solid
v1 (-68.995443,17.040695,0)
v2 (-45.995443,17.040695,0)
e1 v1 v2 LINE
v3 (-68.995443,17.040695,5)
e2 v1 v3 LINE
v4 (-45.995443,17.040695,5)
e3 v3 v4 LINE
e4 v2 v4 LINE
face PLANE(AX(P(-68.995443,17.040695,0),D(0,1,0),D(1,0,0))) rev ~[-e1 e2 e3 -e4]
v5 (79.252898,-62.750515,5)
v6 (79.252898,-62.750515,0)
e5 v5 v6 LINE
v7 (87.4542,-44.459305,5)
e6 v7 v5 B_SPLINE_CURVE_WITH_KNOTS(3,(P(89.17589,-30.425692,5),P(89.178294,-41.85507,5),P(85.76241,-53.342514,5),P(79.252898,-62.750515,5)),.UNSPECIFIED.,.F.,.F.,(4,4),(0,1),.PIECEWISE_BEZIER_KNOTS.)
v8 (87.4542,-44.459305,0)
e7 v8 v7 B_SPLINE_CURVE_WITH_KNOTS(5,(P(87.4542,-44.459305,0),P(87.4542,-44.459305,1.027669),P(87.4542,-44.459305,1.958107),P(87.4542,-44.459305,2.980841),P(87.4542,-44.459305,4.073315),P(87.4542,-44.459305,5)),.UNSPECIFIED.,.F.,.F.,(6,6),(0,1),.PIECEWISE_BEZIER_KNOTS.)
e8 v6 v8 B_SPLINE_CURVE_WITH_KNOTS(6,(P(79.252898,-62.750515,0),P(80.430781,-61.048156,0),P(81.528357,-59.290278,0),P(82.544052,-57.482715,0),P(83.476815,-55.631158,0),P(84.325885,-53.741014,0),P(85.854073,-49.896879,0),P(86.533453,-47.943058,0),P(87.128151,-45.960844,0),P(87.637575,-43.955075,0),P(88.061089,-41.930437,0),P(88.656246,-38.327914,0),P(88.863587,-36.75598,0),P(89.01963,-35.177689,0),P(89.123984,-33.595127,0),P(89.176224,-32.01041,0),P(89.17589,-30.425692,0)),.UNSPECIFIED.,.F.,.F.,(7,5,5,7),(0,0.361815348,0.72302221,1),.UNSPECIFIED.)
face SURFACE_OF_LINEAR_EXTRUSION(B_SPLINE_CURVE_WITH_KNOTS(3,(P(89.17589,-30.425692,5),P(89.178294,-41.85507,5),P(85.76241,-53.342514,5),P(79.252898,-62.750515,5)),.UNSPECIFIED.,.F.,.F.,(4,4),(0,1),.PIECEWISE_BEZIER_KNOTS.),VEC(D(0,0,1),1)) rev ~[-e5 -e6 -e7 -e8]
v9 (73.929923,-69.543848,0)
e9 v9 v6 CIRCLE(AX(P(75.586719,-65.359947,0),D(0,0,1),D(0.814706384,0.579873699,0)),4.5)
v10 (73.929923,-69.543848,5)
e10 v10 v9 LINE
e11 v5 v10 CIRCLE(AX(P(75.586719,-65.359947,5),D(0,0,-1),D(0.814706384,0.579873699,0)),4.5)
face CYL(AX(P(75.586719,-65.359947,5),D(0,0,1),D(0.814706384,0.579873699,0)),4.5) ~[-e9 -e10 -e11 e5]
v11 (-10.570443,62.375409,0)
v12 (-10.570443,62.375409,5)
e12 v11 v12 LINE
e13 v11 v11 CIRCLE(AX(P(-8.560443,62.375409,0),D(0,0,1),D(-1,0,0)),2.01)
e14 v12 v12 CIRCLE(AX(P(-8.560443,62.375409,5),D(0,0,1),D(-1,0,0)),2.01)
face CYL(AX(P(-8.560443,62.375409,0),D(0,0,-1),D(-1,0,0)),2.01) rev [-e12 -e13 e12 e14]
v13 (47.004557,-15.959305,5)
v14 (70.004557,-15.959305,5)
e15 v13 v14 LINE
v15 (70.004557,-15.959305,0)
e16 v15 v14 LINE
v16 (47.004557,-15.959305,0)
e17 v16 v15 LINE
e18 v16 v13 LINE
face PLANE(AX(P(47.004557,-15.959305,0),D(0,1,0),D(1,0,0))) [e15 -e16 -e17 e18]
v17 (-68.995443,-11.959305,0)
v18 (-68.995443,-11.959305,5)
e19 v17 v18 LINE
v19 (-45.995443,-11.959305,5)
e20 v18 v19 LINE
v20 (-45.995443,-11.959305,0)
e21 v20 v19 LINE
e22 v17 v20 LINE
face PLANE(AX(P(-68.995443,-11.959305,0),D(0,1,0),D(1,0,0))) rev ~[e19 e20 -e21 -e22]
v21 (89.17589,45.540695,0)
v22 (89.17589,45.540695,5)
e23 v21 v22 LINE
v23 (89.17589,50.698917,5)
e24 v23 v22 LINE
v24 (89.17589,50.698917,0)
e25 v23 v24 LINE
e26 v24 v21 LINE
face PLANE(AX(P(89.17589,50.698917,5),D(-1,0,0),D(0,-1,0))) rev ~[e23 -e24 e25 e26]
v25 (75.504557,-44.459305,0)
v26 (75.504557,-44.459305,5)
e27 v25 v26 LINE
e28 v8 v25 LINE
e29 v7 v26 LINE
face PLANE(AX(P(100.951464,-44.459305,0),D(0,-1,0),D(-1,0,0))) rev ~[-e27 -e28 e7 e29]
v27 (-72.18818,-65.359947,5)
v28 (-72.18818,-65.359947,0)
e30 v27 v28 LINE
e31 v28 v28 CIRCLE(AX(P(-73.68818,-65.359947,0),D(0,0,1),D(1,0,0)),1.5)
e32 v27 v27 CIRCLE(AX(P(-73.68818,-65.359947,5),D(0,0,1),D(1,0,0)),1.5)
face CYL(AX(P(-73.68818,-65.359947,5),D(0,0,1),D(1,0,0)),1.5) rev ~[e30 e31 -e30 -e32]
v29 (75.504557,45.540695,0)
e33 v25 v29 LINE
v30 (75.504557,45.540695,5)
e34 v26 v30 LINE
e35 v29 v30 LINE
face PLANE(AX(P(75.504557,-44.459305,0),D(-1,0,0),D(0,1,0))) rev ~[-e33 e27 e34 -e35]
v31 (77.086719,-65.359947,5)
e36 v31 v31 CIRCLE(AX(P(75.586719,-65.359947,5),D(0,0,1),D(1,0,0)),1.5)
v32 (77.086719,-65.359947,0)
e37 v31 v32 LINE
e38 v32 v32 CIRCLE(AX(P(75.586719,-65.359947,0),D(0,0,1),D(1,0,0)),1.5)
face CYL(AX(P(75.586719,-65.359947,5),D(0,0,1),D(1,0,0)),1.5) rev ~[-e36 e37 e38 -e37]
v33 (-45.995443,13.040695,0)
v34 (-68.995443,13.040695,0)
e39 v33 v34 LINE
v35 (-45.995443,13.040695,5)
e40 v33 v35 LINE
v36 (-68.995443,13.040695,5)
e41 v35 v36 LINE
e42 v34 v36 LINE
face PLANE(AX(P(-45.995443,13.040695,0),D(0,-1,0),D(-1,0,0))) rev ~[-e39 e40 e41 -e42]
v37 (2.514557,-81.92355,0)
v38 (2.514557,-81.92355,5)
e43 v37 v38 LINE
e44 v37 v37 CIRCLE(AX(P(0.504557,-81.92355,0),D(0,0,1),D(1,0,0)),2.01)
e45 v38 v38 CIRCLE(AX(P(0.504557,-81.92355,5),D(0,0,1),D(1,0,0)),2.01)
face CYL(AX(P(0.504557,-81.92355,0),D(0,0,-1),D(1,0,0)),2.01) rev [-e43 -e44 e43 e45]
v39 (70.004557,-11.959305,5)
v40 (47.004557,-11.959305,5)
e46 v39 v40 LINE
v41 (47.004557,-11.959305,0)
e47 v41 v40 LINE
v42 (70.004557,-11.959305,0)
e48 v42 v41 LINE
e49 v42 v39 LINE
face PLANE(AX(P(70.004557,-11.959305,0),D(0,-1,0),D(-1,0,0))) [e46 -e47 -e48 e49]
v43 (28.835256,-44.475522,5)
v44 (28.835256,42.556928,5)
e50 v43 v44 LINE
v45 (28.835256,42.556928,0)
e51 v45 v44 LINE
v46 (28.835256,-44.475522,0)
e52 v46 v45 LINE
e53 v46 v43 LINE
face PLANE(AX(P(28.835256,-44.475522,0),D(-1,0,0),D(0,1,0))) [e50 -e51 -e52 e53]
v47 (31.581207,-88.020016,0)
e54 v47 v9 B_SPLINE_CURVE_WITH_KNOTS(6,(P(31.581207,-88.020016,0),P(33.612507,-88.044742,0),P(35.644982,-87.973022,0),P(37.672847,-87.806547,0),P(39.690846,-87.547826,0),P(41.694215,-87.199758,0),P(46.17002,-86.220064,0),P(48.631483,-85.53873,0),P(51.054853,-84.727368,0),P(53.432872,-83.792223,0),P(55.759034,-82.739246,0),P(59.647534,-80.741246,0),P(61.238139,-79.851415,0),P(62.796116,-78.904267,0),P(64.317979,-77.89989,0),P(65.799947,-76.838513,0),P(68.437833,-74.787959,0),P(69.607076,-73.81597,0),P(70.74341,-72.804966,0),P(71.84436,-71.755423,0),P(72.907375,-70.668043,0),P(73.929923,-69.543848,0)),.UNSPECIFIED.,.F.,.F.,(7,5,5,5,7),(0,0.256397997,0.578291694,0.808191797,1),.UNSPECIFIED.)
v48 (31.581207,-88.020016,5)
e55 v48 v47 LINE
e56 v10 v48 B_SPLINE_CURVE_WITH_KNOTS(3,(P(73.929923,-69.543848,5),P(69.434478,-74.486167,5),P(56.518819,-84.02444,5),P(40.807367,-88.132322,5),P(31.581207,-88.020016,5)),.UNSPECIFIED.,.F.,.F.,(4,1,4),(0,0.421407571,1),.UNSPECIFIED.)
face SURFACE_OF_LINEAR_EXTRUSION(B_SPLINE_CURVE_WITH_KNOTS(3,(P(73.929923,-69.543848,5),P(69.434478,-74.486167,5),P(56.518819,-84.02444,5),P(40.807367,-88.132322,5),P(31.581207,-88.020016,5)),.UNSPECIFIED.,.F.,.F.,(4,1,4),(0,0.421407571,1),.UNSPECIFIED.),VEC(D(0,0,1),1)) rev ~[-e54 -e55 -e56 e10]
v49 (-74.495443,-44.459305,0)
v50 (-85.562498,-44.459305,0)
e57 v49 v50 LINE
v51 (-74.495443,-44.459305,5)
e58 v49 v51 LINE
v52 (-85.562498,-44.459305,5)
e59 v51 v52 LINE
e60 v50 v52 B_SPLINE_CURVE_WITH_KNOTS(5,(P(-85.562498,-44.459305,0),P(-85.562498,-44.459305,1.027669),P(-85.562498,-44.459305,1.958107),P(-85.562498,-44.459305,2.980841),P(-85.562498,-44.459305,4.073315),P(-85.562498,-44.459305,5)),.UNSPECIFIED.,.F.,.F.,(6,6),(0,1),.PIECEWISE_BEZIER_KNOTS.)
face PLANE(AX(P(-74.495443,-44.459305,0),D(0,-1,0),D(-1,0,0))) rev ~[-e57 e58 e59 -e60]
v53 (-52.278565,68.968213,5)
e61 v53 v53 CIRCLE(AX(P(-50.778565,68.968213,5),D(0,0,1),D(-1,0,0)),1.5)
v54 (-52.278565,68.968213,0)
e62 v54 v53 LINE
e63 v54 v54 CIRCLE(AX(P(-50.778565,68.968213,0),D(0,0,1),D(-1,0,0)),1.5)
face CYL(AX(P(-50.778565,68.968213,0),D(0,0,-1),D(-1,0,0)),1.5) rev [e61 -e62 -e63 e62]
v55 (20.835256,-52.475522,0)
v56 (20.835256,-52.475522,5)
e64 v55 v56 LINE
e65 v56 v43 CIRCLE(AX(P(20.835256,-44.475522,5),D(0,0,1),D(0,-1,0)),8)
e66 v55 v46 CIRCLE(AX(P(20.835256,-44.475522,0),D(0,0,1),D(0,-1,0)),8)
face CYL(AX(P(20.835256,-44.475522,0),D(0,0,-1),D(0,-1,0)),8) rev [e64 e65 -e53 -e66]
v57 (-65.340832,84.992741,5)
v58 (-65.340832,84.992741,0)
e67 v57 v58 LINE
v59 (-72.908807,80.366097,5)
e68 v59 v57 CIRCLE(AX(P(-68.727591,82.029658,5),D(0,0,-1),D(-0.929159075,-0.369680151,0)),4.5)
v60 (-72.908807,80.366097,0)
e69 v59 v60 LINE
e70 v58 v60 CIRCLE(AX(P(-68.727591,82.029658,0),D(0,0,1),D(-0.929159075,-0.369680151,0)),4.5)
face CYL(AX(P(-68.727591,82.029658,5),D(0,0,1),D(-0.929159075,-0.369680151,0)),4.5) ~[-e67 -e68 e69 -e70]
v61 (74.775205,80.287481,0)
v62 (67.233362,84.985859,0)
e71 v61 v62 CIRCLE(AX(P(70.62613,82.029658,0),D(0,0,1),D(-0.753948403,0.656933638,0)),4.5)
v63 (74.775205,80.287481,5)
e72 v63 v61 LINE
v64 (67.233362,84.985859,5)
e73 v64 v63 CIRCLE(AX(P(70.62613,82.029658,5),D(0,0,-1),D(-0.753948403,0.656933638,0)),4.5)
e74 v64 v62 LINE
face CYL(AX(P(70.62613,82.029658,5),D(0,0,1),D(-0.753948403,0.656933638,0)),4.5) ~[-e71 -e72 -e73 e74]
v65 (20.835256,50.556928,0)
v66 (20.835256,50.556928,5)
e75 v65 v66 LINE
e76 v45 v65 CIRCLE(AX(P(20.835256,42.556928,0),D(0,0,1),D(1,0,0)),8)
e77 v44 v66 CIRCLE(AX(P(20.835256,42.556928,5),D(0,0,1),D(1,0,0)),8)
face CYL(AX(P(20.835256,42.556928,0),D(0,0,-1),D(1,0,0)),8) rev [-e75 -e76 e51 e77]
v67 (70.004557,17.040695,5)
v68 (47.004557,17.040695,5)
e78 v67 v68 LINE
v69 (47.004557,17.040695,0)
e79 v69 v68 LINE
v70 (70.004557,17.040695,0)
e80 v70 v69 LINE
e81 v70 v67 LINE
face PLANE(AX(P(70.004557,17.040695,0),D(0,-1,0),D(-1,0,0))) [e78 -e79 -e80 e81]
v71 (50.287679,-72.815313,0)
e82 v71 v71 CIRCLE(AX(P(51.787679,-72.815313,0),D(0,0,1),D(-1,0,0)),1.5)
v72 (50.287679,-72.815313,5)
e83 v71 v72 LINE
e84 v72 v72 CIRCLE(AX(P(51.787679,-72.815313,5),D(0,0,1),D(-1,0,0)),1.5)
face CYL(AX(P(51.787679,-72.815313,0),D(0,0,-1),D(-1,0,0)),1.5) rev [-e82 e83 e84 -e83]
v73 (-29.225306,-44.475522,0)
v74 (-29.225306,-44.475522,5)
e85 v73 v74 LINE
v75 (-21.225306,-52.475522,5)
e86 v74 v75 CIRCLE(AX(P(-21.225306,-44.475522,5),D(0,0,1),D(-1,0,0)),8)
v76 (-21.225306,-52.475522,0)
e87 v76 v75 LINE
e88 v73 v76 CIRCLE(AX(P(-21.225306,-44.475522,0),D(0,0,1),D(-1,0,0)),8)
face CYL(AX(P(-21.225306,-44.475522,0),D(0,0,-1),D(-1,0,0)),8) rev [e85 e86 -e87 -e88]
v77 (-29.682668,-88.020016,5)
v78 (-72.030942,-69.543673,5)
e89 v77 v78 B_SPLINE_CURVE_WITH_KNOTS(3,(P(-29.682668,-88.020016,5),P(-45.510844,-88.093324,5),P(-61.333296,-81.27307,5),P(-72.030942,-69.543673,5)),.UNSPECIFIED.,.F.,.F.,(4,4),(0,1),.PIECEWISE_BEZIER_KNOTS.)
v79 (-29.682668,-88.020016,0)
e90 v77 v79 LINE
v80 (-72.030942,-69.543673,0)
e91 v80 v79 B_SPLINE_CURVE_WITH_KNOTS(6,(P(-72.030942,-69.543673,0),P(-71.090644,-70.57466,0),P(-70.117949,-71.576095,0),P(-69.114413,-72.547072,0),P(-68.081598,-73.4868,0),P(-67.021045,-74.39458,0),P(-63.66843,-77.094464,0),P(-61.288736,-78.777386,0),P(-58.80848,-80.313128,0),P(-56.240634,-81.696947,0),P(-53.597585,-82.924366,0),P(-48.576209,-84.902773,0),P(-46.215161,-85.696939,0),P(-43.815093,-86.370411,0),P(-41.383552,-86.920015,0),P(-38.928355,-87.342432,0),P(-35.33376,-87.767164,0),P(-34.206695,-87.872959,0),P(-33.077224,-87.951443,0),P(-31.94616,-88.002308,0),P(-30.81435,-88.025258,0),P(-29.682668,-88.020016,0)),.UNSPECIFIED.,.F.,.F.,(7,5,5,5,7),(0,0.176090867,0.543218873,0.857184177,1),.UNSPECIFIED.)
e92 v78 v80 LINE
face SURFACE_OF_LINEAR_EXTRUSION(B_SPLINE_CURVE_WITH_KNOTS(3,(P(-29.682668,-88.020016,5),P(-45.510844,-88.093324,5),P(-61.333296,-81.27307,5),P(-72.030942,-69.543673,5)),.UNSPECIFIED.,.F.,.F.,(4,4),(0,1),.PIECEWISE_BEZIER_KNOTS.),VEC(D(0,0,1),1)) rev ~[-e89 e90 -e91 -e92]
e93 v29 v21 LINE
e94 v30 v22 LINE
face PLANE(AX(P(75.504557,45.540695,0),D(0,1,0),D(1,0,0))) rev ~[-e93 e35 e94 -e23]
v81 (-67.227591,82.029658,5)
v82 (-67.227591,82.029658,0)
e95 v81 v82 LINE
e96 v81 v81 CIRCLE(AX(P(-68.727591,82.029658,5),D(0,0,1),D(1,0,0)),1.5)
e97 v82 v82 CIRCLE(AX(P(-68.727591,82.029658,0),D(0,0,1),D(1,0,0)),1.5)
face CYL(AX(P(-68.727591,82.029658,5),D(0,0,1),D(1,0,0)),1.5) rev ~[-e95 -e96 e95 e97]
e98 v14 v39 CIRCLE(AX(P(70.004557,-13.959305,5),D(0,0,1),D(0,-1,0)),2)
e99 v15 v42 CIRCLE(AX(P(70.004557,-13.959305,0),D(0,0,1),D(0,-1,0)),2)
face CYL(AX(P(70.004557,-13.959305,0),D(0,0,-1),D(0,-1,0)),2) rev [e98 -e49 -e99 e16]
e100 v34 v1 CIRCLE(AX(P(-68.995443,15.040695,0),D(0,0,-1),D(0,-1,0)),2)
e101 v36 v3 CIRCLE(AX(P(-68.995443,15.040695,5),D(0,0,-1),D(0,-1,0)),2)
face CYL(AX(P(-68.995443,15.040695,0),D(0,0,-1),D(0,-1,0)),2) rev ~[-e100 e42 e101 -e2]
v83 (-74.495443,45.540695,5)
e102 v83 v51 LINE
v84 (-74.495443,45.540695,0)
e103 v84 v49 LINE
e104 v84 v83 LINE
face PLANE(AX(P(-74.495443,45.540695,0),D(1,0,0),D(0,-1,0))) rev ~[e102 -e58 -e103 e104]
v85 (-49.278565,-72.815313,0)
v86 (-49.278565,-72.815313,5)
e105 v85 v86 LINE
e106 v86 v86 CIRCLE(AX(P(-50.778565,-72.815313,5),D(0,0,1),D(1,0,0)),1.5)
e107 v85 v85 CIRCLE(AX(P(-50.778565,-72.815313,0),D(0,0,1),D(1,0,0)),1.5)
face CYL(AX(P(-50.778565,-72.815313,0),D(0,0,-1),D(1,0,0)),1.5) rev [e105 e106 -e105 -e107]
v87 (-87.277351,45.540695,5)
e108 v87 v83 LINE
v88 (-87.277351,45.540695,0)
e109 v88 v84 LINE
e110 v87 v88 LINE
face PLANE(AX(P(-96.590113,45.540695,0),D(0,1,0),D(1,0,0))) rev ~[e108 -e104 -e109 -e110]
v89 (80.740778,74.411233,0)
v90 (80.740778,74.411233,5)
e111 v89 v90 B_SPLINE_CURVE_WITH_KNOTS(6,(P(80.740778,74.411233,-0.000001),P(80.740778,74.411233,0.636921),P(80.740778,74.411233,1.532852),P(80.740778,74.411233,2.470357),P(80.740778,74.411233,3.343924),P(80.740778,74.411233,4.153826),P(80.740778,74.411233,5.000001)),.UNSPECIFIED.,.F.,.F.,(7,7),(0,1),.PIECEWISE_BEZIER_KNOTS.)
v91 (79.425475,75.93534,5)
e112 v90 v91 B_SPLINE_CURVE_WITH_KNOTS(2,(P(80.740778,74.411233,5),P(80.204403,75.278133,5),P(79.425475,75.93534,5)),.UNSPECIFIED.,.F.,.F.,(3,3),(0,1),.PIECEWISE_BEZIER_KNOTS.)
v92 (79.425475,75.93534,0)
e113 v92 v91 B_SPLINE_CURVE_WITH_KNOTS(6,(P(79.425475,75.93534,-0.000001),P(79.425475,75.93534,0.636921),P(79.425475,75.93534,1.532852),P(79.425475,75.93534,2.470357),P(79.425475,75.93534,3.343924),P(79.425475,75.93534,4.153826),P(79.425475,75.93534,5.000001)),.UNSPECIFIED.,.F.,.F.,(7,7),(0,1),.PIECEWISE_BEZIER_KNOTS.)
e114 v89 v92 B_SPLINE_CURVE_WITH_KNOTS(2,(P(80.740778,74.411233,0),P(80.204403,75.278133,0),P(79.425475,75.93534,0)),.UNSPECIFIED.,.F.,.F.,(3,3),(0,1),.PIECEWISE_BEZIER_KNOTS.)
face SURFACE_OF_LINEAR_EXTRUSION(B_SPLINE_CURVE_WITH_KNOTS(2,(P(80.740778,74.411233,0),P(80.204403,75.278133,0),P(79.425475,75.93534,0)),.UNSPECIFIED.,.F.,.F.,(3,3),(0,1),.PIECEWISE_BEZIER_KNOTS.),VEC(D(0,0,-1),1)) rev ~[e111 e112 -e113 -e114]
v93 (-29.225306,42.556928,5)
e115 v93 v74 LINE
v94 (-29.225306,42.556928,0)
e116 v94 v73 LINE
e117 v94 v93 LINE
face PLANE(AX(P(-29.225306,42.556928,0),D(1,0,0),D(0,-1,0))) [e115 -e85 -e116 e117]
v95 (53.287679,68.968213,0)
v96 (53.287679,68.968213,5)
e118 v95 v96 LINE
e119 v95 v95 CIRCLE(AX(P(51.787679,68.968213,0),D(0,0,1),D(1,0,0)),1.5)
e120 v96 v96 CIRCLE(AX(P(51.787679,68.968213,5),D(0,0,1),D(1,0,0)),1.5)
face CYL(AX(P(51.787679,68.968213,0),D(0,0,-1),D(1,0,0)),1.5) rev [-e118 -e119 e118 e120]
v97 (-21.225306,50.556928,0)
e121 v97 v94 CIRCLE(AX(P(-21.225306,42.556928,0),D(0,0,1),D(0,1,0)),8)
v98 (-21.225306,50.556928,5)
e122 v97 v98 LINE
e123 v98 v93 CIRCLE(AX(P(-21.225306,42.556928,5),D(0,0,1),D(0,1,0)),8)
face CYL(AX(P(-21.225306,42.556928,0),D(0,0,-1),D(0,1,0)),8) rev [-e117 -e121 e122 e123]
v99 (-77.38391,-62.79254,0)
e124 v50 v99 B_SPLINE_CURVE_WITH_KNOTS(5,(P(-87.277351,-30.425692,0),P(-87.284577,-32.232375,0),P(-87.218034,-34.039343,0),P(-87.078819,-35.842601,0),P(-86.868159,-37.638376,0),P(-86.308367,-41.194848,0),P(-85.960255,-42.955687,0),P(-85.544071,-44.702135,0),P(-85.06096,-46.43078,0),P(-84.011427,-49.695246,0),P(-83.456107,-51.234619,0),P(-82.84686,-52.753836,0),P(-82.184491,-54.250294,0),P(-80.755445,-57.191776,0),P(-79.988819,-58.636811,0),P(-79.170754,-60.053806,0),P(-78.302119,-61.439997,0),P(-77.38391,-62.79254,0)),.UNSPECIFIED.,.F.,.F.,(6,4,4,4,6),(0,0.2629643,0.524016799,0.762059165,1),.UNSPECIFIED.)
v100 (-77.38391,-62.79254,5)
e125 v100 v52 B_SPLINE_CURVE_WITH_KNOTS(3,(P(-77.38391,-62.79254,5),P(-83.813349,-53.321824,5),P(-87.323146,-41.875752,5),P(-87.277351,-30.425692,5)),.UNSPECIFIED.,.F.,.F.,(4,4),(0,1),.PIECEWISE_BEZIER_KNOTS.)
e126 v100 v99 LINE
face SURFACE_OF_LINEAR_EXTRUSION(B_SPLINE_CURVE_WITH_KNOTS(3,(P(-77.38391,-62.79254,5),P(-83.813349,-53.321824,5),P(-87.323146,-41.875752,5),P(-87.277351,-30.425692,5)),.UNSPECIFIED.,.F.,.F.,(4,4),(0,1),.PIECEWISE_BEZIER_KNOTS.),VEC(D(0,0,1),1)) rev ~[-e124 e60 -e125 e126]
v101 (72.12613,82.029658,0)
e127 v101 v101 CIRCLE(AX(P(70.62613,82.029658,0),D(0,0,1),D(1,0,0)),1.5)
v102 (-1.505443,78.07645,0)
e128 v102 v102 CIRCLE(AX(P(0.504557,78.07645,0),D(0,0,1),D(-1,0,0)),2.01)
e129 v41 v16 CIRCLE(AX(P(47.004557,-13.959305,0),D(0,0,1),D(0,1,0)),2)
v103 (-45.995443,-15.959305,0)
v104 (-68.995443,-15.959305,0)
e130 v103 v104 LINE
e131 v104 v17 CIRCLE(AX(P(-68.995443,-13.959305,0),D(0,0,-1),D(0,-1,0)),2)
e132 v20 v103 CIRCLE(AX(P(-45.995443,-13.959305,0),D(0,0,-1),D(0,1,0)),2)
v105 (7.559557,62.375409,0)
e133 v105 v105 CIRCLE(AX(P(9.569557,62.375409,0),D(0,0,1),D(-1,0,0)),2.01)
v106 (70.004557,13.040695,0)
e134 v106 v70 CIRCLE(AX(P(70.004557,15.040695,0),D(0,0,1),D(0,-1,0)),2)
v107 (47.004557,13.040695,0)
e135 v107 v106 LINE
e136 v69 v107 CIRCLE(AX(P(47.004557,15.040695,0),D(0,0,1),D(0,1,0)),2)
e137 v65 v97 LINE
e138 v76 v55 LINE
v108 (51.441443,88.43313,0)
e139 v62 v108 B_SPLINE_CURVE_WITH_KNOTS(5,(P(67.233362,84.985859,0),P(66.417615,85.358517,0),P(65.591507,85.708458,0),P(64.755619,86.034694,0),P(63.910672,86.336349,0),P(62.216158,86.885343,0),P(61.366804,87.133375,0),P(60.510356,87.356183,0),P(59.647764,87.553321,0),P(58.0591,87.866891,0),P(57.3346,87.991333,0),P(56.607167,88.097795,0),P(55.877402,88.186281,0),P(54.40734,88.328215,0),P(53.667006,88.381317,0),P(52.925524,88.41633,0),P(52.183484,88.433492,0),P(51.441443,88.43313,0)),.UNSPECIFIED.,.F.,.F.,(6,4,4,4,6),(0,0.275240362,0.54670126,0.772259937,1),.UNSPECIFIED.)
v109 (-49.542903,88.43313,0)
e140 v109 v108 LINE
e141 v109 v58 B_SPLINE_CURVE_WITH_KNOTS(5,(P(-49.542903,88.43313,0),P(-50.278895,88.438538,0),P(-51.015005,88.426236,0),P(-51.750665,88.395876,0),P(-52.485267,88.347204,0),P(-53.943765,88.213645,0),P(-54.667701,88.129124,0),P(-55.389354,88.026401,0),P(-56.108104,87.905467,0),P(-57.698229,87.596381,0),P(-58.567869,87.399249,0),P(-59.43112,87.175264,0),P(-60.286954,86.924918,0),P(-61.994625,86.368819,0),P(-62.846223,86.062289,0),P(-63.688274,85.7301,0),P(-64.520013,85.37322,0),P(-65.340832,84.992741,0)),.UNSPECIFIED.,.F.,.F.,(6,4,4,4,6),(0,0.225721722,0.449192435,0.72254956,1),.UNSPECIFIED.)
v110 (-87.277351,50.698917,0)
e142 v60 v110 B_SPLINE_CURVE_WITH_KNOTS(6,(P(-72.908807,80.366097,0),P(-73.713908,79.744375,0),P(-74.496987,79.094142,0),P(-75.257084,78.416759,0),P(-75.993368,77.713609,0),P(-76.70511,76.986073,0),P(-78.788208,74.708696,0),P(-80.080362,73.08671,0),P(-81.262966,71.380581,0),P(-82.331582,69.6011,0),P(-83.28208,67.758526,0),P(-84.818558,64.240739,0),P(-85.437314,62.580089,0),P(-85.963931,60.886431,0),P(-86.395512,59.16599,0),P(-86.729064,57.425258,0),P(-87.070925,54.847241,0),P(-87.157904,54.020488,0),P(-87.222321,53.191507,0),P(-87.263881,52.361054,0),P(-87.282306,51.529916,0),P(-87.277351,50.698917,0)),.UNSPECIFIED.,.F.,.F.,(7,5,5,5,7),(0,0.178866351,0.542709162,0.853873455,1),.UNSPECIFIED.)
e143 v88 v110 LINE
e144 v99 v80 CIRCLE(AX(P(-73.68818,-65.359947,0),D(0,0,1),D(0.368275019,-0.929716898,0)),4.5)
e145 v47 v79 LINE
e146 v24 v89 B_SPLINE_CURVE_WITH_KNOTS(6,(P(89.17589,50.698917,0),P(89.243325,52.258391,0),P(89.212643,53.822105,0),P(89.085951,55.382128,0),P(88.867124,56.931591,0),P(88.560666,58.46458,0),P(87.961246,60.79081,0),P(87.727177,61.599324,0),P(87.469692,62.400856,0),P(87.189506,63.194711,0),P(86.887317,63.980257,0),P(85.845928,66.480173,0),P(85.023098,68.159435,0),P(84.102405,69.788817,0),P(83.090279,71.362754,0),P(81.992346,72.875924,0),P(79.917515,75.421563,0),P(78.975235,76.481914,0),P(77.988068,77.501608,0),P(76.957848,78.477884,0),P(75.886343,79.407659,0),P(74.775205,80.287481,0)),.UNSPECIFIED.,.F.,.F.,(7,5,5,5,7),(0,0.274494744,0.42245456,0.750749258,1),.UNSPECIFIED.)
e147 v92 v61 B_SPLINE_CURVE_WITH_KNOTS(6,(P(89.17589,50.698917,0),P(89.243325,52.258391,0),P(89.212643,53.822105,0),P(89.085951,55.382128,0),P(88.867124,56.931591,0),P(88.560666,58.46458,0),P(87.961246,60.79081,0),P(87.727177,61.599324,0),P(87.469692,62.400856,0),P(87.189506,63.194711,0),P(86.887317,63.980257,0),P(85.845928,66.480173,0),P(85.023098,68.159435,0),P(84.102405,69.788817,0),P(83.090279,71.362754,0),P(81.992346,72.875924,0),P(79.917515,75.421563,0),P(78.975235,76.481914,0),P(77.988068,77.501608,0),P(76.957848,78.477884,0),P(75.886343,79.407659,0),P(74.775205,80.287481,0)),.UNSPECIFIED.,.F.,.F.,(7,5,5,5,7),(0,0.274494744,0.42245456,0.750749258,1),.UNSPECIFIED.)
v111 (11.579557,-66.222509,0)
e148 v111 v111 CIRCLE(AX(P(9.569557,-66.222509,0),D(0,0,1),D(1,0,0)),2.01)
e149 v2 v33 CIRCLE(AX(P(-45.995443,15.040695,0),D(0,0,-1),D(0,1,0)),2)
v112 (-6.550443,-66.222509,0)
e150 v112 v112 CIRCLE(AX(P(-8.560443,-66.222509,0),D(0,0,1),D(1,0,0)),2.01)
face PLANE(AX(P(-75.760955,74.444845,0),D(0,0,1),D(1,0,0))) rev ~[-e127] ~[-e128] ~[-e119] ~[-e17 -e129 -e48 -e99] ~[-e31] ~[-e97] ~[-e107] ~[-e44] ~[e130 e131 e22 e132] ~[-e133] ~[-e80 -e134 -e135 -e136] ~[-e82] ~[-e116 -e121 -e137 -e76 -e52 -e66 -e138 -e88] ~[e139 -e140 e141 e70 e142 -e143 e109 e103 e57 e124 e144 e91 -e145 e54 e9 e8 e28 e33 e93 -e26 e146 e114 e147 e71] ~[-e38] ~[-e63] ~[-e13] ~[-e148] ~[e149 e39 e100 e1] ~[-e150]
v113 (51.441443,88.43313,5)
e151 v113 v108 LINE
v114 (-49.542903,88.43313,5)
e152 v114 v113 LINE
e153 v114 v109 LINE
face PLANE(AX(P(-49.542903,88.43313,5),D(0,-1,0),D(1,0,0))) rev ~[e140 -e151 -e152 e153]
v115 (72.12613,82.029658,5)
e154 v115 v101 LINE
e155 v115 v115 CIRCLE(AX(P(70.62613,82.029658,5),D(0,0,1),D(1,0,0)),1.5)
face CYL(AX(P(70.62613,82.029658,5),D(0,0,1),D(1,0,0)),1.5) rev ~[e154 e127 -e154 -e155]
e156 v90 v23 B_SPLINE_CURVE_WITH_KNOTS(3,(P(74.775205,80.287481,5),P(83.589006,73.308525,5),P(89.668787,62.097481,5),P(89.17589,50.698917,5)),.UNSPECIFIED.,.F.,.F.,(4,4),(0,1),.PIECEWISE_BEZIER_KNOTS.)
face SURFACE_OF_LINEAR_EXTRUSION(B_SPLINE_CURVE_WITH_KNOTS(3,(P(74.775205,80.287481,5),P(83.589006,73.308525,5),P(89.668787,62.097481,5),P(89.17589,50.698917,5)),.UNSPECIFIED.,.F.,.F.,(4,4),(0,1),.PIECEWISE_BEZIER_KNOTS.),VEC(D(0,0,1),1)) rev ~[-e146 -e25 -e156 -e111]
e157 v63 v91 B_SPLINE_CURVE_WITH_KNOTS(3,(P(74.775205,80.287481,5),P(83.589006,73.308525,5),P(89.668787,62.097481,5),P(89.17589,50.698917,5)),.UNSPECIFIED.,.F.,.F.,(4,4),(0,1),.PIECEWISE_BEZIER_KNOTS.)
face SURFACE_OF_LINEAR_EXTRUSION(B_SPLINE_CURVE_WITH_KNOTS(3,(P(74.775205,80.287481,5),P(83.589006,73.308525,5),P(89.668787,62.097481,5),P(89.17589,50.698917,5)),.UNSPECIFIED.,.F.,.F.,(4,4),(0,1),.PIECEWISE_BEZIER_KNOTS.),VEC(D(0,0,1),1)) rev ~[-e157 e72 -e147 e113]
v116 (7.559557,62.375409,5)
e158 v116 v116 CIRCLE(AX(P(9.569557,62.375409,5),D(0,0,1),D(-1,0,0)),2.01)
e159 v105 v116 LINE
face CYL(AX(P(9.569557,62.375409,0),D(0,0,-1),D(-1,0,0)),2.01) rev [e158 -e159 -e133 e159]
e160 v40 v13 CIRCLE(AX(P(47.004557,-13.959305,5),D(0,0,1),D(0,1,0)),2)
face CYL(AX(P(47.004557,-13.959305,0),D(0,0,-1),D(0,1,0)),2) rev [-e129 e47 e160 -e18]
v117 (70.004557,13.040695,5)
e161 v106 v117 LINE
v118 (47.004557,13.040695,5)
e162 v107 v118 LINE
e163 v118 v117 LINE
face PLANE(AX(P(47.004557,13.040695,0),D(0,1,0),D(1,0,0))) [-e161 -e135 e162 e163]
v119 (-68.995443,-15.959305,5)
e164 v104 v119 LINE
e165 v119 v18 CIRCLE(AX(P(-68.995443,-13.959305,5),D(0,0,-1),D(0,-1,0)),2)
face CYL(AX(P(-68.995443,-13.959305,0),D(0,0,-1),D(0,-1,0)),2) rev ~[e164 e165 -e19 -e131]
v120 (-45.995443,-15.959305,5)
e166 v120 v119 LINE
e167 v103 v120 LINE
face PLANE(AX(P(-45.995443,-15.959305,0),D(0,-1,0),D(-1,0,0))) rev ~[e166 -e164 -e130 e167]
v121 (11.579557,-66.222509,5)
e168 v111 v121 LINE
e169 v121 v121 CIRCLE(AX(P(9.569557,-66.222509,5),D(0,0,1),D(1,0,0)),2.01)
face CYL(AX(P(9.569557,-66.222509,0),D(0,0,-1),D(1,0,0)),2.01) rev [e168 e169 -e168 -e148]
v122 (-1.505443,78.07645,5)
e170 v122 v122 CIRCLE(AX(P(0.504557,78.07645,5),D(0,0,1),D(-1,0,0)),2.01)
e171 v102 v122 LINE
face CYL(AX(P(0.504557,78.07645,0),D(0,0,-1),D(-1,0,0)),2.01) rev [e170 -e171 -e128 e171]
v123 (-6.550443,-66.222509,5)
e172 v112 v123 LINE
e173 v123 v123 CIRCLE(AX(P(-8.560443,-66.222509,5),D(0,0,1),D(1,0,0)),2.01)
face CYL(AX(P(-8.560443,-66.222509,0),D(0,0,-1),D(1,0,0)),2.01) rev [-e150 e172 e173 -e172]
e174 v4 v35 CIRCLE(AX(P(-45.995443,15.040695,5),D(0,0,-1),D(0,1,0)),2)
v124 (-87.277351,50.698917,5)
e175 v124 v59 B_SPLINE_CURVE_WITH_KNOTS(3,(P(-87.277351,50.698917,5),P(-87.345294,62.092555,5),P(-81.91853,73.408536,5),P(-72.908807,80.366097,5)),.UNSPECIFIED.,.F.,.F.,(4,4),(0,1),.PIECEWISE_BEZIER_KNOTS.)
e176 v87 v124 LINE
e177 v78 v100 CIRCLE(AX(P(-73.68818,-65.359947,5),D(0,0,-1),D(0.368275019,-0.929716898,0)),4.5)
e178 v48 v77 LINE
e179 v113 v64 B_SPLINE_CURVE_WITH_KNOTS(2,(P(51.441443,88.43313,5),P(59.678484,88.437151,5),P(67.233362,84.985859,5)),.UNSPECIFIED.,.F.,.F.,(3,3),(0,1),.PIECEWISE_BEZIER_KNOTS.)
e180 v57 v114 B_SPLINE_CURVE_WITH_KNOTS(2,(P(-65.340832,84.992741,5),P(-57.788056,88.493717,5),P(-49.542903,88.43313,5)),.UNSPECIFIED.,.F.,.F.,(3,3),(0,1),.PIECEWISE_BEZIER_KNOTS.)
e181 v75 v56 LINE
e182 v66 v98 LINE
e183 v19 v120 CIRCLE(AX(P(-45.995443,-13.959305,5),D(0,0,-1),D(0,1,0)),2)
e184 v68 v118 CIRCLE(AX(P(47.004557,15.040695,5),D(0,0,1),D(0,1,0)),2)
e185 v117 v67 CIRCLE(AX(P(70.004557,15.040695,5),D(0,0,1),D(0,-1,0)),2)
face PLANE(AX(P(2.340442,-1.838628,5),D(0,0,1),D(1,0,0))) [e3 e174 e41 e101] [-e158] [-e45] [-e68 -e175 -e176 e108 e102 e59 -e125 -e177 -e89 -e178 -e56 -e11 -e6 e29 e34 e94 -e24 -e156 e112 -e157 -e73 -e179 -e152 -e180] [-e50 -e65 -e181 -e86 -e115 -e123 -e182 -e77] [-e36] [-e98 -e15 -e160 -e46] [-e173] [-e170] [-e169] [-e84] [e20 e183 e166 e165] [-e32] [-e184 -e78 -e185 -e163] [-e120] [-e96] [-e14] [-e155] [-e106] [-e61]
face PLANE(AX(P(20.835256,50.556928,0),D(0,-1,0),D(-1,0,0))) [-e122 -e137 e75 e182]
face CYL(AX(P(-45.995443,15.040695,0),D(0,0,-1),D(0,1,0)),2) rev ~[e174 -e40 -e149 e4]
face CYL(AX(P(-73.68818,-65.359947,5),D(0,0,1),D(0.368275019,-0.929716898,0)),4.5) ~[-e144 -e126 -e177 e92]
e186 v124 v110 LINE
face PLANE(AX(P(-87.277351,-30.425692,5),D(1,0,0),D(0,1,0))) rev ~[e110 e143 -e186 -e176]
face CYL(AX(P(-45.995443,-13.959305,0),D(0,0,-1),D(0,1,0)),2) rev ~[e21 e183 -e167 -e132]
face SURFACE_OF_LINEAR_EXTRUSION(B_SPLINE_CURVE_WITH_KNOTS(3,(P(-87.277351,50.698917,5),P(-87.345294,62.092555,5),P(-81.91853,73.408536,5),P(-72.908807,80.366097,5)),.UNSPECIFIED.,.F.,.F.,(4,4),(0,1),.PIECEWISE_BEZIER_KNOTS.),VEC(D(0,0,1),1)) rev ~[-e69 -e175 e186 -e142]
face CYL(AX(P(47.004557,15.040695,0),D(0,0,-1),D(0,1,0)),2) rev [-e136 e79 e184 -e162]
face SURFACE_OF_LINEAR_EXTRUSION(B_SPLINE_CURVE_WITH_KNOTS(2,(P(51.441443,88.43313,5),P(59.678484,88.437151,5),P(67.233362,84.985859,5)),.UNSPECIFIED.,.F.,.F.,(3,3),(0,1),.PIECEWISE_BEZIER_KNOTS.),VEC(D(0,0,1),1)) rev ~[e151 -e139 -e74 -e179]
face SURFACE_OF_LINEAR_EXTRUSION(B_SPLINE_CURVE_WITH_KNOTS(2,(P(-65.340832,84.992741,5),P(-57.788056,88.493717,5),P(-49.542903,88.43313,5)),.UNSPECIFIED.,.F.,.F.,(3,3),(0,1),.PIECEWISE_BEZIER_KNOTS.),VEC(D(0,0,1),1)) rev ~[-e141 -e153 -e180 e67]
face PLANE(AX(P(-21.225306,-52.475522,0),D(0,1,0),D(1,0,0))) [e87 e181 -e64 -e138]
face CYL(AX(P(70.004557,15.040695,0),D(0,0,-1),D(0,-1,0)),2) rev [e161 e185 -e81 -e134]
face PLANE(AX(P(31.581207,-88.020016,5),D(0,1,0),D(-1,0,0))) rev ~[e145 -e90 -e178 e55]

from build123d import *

# Parameters (mm, degrees)
SKETCH1_R           = 2.01
SKETCH1_R_2         = 1.5
BOSS_EXTRUDE1_DEPTH = 5
SKETCH3_R           = 1.502108832
SKETCH3_R_2         = 1.5
CUT_EXTRUDE1_DEPTH  = 5
SKETCH6_R           = 127.388909146
CUT_EXTRUDE2_DEPTH  = 10
SKETCH7_R           = 1.5
CUT_EXTRUDE3_DEPTH  = 10
BOSS_EXTRUDE2_START = -5
SKETCH8_R           = 1.502108832
BOSS_EXTRUDE2_DEPTH = 5


with BuildPart() as part:
    # Sketch1 → Boss-Extrude1 (new body)
    with BuildSketch(Plane.XY):
        with BuildLine():
            Line((75.504557328, -44.459304845), (75.504557328, 45.540695166))
            Line((75.504557328, 45.540695166), (100.059689798, 45.540695166))
            add(Edge.make_bspline(
                [(100.059689798, 45.540695166), (100.041788228, 45.754261833), (99.850008352, 47.893495098), (98.96868948, 53.830439174), (96.130771714, 63.067301471), (90.671016468, 73.277711787), (83.341127235, 82.262457854), (74.36610438, 89.593910485), (64.164774078, 95.050161964), (54.928289046, 97.885319352), (47.287800195, 99.020154484), (43.400368962, 99.191158918), (41.462449937, 99.172959613)],
                knots=[0.055788601, 0.055788601, 0.055788601, 0.055788601, 0.062711167, 0.125182898, 0.250126359, 0.375069821, 0.500013282, 0.624956744, 0.749900205, 0.874843667, 0.937315398, 0.999787128, 0.999787128, 0.999787128, 0.999787128], degree=3))
            Line((41.462449937, 99.172959613), (-37.993292469, 99.172959613))
            add(Edge.make_bspline(
                [(-37.993292469, 99.172959613), (-41.828390734, 99.192174166), (-49.528051244, 98.435603453), (-60.581226949, 95.081607626), (-70.808859789, 89.670474861), (-79.808884098, 82.300210471), (-87.147846669, 73.275518481), (-92.643550681, 63.029136296), (-95.563376916, 53.601119233), (-96.412693125, 47.662538368), (-96.590112943, 45.540695166)],
                knots=[0.000114592, 0.000114592, 0.000114592, 0.000114592, 0.125060228, 0.250005865, 0.374951502, 0.499897139, 0.624842775, 0.749788412, 0.874734049, 0.943757473, 0.943757473, 0.943757473, 0.943757473], degree=3))
            Line((-96.590112943, 45.540695166), (-74.495442672, 45.540695166))
            Line((-74.495442672, 45.540695166), (-74.495442672, -44.459304845))
            Line((-74.495442672, -44.459304845), (-96.069812767, -44.459304845))
            Line((-96.069812767, -44.459304845), (-96.069812767, -58.94108417))
            add(Edge.make_bspline(
                [(-96.069812767, -58.94108417), (-96.103597655, -60.242783602), (-96.020757858, -62.86424422), (-95.284873318, -67.958362235), (-93.368947654, -74.058002404), (-89.696192927, -80.728467677), (-84.849845597, -86.58500717), (-79.007758993, -91.452906948), (-72.33795175, -95.146253023), (-66.222611962, -97.071224016), (-61.106429471, -97.805589863), (-58.468563645, -97.88419966), (-57.159547687, -97.847472391)],
                knots=[0.000901993, 0.000901993, 0.000901993, 0.000901993, 0.063285077, 0.12566816, 0.250434328, 0.375200496, 0.499966664, 0.624732831, 0.749498999, 0.874265167, 0.936648251, 0.999031335, 0.999031335, 0.999031335, 0.999031335], degree=3))
            Line((-57.159547687, -97.847472391), (62.058252081, -97.847472391))
            add(Edge.make_bspline(
                [(62.058252081, -97.847472391), (63.349284352, -97.87302538), (65.946474819, -97.778812963), (71.006373371, -97.039227825), (77.079986888, -95.147057025), (83.747716292, -91.525384678), (89.621452499, -86.731070085), (94.516764786, -80.923365419), (98.236814692, -74.255649702), (100.174956425, -68.105115813), (100.911947701, -62.938495931), (100.98924539, -60.262367482), (100.951464077, -58.935920146)],
                knots=[0.000693468, 0.000693468, 0.000693468, 0.000693468, 0.063089705, 0.125485942, 0.250278415, 0.375070889, 0.499863363, 0.624655837, 0.749448311, 0.874240785, 0.936637021, 0.999033258, 0.999033258, 0.999033258, 0.999033258], degree=3))
            Line((100.951464077, -58.935920146), (100.951464077, -44.459304845))
            Line((100.951464077, -44.459304845), (75.504557328, -44.459304845))
        make_face()
        with Locations((0.504557328, -81.923550041)):
            Circle(SKETCH1_R, mode=Mode.SUBTRACT)
        with Locations((-8.560442672, -66.22250947)):
            Circle(SKETCH1_R, mode=Mode.SUBTRACT)
        with Locations((9.569557328, -66.22250947)):
            Circle(SKETCH1_R, mode=Mode.SUBTRACT)
        with Locations(Location((9.569557328, 62.375409388, 0), (0, 0, 180))):
            Circle(SKETCH1_R, mode=Mode.SUBTRACT)
        with Locations(Location((-8.560442672, 62.375409388, 0), (0, 0, 180))):
            Circle(SKETCH1_R, mode=Mode.SUBTRACT)
        with Locations(Location((0.504557328, 78.076449959, 0), (0, 0, 180))):
            Circle(SKETCH1_R, mode=Mode.SUBTRACT)
        with Locations((51.787679438, 68.968213223)):
            Circle(SKETCH1_R_2, mode=Mode.SUBTRACT)
        with Locations(Location((-50.778564782, 68.968213223, 0), (0, 0, 180))):
            Circle(SKETCH1_R_2, mode=Mode.SUBTRACT)
        with Locations((-50.778564782, -72.815313305)):
            Circle(SKETCH1_R_2, mode=Mode.SUBTRACT)
        with Locations(Location((51.787679438, -72.815313305, 0), (0, 0, 180))):
            Circle(SKETCH1_R_2, mode=Mode.SUBTRACT)
        with BuildLine():
            Line((20.835255983, 50.556927645), (-21.225305639, 50.556927645))
            ThreePointArc((-21.225305639, 50.556927645), (-26.882159889, 48.213781894), (-29.225305639, 42.556927645))
            Line((-29.225305639, 42.556927645), (-29.225305639, -44.475522072))
            ThreePointArc((-29.225305639, -44.475522072), (-26.882159889, -50.132376322), (-21.225305639, -52.475522072))
            Line((-21.225305639, -52.475522072), (20.835255983, -52.475522072))
            ThreePointArc((20.835255983, -52.475522072), (26.492110233, -50.132376322), (28.835255983, -44.475522072))
            Line((28.835255983, -44.475522072), (28.835255983, 42.556927645))
            ThreePointArc((28.835255983, 42.556927645), (26.492110233, 48.213781894), (20.835255983, 50.556927645))
        make_face(mode=Mode.SUBTRACT)
        with BuildLine():
            Line((47.004557328, -15.95930484), (70.004557328, -15.95930484))
            ThreePointArc((70.004557328, -15.95930484), (72.004557328, -13.95930484), (70.004557328, -11.95930484))
            Line((70.004557328, -11.95930484), (47.004557328, -11.95930484))
            ThreePointArc((47.004557328, -11.95930484), (45.004557328, -13.95930484), (47.004557328, -15.95930484))
        make_face(mode=Mode.SUBTRACT)
        with BuildLine():
            Line((-45.995442672, -15.95930484), (-68.995442672, -15.95930484))
            ThreePointArc((-68.995442672, -15.95930484), (-70.995442672, -13.95930484), (-68.995442672, -11.95930484))
            Line((-68.995442672, -11.95930484), (-45.995442672, -11.95930484))
            ThreePointArc((-45.995442672, -11.95930484), (-43.995442672, -13.95930484), (-45.995442672, -15.95930484))
        make_face(mode=Mode.SUBTRACT)
        with BuildLine():
            Line((-45.995442672, 13.04069516), (-68.995442672, 13.04069516))
            ThreePointArc((-68.995442672, 13.04069516), (-70.995442672, 15.04069516), (-68.995442672, 17.04069516))
            Line((-68.995442672, 17.04069516), (-45.995442672, 17.04069516))
            ThreePointArc((-45.995442672, 17.04069516), (-43.995442672, 15.04069516), (-45.995442672, 13.04069516))
        make_face(mode=Mode.SUBTRACT)
        with BuildLine():
            Line((47.004557328, 13.04069516), (70.004557328, 13.04069516))
            ThreePointArc((70.004557328, 13.04069516), (72.004557328, 15.04069516), (70.004557328, 17.04069516))
            Line((70.004557328, 17.04069516), (47.004557328, 17.04069516))
            ThreePointArc((47.004557328, 17.04069516), (45.004557328, 15.04069516), (47.004557328, 13.04069516))
        make_face(mode=Mode.SUBTRACT)
    extrude(amount=BOSS_EXTRUDE1_DEPTH)

    # Sketch3 → Cut-Extrude1 (cut)
    with BuildSketch(Plane(origin=(-67.725712149, -284.067502755, 0), x_dir=(0, -1, 0), z_dir=(0, 0, -1))):
        with Locations(Location((-358.51234805, 8.035243007, 0), (0, 0, 90))):
            Circle(SKETCH3_R)
        with Locations(Location((-358.51234805, -146.964756993, 0), (0, 0, 90))):
            Circle(SKETCH3_R)
        with Locations(Location((-198.51234805, -146.964756993, 0), (0, 0, 90))):
            Circle(SKETCH3_R_2)
        with Locations(Location((-198.51234805, 8.035243007, 0), (0, 0, 90))):
            Circle(SKETCH3_R_2)
    extrude(amount=-CUT_EXTRUDE1_DEPTH, mode=Mode.SUBTRACT)

    # Sketch6 → Cut-Extrude2 (cut)
    with BuildSketch(Plane.XY.offset(5)):
        Circle(SKETCH6_R)
        with BuildLine():
            Line((-87.277351018, -30.425691892), (-87.277351018, 50.698917047))
            add(Edge.make_bspline(
                [(-87.277351018, 50.698917047), (-87.345293709, 62.092554876), (-81.91852953, 73.408536042), (-72.908806653, 80.366097079)],
                knots=[0, 0, 0, 0, 1, 1, 1, 1], degree=3))
            ThreePointArc((-72.908806653, 80.366097079), (-71.074769912, 85.869026234), (-65.340831928, 84.992741324))
            add(Edge.make_bspline(
                [(-65.340831928, 84.992741324), (-57.788055604, 88.493717217), (-49.542903418, 88.433129599)],
                knots=[0, 0, 0, 1, 1, 1], degree=2))
            Line((-49.542903418, 88.433129599), (51.441442769, 88.433129599))
            add(Edge.make_bspline(
                [(51.441442769, 88.433129599), (59.678483611, 88.437151289), (67.233362352, 84.98585913)],
                knots=[0, 0, 0, 1, 1, 1], degree=2))
            ThreePointArc((67.233362352, 84.98585913), (73.005560597, 85.849122489), (74.775204798, 80.287481041))
            add(Edge.make_bspline(
                [(74.775204798, 80.287481041), (83.589006393, 73.308525296), (89.668786675, 62.097481339), (89.175890368, 50.698917047)],
                knots=[0, 0, 0, 0, 1, 1, 1, 1], degree=3))
            Line((89.175890368, 50.698917047), (89.175890368, -30.425691892))
            add(Edge.make_bspline(
                [(89.175890368, -30.425691892), (89.178293605, -41.855069867), (85.762409509, -53.342513531), (79.252897634, -62.750515348)],
                knots=[0, 0, 0, 0, 1, 1, 1, 1], degree=3))
            ThreePointArc((79.252897634, -62.750515348), (79.128857618, -68.135420529), (73.929922922, -69.543847935))
            add(Edge.make_bspline(
                [(73.929922922, -69.543847935), (69.434477623, -74.486167285), (56.518819164, -84.02444032), (40.807367453, -88.132321569), (31.581207186, -88.020016316)],
                knots=[0, 0, 0, 0, 0.421407571, 1, 1, 1, 1], degree=3))
            Line((31.581207186, -88.020016316), (-29.682667836, -88.020016316))
            add(Edge.make_bspline(
                [(-29.682667836, -88.020016316), (-45.510843982, -88.093323652), (-61.333296445, -81.273069841), (-72.030941971, -69.543673037)],
                knots=[0, 0, 0, 0, 1, 1, 1, 1], degree=3))
            ThreePointArc((-72.030941971, -69.543673037), (-77.21426967, -68.155781128), (-77.38390991, -62.7925403))
            add(Edge.make_bspline(
                [(-77.38390991, -62.7925403), (-83.813349424, -53.321823673), (-87.323146284, -41.875751549), (-87.277351018, -30.425691892)],
                knots=[0, 0, 0, 0, 1, 1, 1, 1], degree=3))
        make_face(mode=Mode.SUBTRACT)
    extrude(amount=-CUT_EXTRUDE2_DEPTH, mode=Mode.SUBTRACT)

    # Sketch7 → Cut-Extrude3 (cut)
    with BuildSketch(Plane.XY.offset(5)):
        with Locations((75.586718904, -65.359946995)):
            Circle(SKETCH7_R)
        with Locations((-73.688179554, -65.359946995)):
            Circle(SKETCH7_R)
        with Locations((70.626130167, 82.029657757)):
            Circle(SKETCH7_R)
        with Locations((-68.727590817, 82.029657757)):
            Circle(SKETCH7_R)
    extrude(amount=-CUT_EXTRUDE3_DEPTH, mode=Mode.SUBTRACT)

    # Sketch8 → Boss-Extrude2 (add)
    with BuildSketch(Plane.XY.offset(5).offset(BOSS_EXTRUDE2_START)):
        with Locations((-75.760955156, 74.444845294)):
            Circle(SKETCH8_R)
        with BuildLine():
            ThreePointArc((79.425475108, 75.935340078), (78.101855611, 73.463452615), (80.740777557, 74.41123274))
            add(Edge.make_bspline(
                [(80.740777557, 74.41123274), (80.204403355, 75.278133212), (79.425475108, 75.935340078)],
                knots=[0, 0, 0, 1, 1, 1], degree=2))
        make_face()
    extrude(amount=BOSS_EXTRUDE2_DEPTH)


solid = part.part
